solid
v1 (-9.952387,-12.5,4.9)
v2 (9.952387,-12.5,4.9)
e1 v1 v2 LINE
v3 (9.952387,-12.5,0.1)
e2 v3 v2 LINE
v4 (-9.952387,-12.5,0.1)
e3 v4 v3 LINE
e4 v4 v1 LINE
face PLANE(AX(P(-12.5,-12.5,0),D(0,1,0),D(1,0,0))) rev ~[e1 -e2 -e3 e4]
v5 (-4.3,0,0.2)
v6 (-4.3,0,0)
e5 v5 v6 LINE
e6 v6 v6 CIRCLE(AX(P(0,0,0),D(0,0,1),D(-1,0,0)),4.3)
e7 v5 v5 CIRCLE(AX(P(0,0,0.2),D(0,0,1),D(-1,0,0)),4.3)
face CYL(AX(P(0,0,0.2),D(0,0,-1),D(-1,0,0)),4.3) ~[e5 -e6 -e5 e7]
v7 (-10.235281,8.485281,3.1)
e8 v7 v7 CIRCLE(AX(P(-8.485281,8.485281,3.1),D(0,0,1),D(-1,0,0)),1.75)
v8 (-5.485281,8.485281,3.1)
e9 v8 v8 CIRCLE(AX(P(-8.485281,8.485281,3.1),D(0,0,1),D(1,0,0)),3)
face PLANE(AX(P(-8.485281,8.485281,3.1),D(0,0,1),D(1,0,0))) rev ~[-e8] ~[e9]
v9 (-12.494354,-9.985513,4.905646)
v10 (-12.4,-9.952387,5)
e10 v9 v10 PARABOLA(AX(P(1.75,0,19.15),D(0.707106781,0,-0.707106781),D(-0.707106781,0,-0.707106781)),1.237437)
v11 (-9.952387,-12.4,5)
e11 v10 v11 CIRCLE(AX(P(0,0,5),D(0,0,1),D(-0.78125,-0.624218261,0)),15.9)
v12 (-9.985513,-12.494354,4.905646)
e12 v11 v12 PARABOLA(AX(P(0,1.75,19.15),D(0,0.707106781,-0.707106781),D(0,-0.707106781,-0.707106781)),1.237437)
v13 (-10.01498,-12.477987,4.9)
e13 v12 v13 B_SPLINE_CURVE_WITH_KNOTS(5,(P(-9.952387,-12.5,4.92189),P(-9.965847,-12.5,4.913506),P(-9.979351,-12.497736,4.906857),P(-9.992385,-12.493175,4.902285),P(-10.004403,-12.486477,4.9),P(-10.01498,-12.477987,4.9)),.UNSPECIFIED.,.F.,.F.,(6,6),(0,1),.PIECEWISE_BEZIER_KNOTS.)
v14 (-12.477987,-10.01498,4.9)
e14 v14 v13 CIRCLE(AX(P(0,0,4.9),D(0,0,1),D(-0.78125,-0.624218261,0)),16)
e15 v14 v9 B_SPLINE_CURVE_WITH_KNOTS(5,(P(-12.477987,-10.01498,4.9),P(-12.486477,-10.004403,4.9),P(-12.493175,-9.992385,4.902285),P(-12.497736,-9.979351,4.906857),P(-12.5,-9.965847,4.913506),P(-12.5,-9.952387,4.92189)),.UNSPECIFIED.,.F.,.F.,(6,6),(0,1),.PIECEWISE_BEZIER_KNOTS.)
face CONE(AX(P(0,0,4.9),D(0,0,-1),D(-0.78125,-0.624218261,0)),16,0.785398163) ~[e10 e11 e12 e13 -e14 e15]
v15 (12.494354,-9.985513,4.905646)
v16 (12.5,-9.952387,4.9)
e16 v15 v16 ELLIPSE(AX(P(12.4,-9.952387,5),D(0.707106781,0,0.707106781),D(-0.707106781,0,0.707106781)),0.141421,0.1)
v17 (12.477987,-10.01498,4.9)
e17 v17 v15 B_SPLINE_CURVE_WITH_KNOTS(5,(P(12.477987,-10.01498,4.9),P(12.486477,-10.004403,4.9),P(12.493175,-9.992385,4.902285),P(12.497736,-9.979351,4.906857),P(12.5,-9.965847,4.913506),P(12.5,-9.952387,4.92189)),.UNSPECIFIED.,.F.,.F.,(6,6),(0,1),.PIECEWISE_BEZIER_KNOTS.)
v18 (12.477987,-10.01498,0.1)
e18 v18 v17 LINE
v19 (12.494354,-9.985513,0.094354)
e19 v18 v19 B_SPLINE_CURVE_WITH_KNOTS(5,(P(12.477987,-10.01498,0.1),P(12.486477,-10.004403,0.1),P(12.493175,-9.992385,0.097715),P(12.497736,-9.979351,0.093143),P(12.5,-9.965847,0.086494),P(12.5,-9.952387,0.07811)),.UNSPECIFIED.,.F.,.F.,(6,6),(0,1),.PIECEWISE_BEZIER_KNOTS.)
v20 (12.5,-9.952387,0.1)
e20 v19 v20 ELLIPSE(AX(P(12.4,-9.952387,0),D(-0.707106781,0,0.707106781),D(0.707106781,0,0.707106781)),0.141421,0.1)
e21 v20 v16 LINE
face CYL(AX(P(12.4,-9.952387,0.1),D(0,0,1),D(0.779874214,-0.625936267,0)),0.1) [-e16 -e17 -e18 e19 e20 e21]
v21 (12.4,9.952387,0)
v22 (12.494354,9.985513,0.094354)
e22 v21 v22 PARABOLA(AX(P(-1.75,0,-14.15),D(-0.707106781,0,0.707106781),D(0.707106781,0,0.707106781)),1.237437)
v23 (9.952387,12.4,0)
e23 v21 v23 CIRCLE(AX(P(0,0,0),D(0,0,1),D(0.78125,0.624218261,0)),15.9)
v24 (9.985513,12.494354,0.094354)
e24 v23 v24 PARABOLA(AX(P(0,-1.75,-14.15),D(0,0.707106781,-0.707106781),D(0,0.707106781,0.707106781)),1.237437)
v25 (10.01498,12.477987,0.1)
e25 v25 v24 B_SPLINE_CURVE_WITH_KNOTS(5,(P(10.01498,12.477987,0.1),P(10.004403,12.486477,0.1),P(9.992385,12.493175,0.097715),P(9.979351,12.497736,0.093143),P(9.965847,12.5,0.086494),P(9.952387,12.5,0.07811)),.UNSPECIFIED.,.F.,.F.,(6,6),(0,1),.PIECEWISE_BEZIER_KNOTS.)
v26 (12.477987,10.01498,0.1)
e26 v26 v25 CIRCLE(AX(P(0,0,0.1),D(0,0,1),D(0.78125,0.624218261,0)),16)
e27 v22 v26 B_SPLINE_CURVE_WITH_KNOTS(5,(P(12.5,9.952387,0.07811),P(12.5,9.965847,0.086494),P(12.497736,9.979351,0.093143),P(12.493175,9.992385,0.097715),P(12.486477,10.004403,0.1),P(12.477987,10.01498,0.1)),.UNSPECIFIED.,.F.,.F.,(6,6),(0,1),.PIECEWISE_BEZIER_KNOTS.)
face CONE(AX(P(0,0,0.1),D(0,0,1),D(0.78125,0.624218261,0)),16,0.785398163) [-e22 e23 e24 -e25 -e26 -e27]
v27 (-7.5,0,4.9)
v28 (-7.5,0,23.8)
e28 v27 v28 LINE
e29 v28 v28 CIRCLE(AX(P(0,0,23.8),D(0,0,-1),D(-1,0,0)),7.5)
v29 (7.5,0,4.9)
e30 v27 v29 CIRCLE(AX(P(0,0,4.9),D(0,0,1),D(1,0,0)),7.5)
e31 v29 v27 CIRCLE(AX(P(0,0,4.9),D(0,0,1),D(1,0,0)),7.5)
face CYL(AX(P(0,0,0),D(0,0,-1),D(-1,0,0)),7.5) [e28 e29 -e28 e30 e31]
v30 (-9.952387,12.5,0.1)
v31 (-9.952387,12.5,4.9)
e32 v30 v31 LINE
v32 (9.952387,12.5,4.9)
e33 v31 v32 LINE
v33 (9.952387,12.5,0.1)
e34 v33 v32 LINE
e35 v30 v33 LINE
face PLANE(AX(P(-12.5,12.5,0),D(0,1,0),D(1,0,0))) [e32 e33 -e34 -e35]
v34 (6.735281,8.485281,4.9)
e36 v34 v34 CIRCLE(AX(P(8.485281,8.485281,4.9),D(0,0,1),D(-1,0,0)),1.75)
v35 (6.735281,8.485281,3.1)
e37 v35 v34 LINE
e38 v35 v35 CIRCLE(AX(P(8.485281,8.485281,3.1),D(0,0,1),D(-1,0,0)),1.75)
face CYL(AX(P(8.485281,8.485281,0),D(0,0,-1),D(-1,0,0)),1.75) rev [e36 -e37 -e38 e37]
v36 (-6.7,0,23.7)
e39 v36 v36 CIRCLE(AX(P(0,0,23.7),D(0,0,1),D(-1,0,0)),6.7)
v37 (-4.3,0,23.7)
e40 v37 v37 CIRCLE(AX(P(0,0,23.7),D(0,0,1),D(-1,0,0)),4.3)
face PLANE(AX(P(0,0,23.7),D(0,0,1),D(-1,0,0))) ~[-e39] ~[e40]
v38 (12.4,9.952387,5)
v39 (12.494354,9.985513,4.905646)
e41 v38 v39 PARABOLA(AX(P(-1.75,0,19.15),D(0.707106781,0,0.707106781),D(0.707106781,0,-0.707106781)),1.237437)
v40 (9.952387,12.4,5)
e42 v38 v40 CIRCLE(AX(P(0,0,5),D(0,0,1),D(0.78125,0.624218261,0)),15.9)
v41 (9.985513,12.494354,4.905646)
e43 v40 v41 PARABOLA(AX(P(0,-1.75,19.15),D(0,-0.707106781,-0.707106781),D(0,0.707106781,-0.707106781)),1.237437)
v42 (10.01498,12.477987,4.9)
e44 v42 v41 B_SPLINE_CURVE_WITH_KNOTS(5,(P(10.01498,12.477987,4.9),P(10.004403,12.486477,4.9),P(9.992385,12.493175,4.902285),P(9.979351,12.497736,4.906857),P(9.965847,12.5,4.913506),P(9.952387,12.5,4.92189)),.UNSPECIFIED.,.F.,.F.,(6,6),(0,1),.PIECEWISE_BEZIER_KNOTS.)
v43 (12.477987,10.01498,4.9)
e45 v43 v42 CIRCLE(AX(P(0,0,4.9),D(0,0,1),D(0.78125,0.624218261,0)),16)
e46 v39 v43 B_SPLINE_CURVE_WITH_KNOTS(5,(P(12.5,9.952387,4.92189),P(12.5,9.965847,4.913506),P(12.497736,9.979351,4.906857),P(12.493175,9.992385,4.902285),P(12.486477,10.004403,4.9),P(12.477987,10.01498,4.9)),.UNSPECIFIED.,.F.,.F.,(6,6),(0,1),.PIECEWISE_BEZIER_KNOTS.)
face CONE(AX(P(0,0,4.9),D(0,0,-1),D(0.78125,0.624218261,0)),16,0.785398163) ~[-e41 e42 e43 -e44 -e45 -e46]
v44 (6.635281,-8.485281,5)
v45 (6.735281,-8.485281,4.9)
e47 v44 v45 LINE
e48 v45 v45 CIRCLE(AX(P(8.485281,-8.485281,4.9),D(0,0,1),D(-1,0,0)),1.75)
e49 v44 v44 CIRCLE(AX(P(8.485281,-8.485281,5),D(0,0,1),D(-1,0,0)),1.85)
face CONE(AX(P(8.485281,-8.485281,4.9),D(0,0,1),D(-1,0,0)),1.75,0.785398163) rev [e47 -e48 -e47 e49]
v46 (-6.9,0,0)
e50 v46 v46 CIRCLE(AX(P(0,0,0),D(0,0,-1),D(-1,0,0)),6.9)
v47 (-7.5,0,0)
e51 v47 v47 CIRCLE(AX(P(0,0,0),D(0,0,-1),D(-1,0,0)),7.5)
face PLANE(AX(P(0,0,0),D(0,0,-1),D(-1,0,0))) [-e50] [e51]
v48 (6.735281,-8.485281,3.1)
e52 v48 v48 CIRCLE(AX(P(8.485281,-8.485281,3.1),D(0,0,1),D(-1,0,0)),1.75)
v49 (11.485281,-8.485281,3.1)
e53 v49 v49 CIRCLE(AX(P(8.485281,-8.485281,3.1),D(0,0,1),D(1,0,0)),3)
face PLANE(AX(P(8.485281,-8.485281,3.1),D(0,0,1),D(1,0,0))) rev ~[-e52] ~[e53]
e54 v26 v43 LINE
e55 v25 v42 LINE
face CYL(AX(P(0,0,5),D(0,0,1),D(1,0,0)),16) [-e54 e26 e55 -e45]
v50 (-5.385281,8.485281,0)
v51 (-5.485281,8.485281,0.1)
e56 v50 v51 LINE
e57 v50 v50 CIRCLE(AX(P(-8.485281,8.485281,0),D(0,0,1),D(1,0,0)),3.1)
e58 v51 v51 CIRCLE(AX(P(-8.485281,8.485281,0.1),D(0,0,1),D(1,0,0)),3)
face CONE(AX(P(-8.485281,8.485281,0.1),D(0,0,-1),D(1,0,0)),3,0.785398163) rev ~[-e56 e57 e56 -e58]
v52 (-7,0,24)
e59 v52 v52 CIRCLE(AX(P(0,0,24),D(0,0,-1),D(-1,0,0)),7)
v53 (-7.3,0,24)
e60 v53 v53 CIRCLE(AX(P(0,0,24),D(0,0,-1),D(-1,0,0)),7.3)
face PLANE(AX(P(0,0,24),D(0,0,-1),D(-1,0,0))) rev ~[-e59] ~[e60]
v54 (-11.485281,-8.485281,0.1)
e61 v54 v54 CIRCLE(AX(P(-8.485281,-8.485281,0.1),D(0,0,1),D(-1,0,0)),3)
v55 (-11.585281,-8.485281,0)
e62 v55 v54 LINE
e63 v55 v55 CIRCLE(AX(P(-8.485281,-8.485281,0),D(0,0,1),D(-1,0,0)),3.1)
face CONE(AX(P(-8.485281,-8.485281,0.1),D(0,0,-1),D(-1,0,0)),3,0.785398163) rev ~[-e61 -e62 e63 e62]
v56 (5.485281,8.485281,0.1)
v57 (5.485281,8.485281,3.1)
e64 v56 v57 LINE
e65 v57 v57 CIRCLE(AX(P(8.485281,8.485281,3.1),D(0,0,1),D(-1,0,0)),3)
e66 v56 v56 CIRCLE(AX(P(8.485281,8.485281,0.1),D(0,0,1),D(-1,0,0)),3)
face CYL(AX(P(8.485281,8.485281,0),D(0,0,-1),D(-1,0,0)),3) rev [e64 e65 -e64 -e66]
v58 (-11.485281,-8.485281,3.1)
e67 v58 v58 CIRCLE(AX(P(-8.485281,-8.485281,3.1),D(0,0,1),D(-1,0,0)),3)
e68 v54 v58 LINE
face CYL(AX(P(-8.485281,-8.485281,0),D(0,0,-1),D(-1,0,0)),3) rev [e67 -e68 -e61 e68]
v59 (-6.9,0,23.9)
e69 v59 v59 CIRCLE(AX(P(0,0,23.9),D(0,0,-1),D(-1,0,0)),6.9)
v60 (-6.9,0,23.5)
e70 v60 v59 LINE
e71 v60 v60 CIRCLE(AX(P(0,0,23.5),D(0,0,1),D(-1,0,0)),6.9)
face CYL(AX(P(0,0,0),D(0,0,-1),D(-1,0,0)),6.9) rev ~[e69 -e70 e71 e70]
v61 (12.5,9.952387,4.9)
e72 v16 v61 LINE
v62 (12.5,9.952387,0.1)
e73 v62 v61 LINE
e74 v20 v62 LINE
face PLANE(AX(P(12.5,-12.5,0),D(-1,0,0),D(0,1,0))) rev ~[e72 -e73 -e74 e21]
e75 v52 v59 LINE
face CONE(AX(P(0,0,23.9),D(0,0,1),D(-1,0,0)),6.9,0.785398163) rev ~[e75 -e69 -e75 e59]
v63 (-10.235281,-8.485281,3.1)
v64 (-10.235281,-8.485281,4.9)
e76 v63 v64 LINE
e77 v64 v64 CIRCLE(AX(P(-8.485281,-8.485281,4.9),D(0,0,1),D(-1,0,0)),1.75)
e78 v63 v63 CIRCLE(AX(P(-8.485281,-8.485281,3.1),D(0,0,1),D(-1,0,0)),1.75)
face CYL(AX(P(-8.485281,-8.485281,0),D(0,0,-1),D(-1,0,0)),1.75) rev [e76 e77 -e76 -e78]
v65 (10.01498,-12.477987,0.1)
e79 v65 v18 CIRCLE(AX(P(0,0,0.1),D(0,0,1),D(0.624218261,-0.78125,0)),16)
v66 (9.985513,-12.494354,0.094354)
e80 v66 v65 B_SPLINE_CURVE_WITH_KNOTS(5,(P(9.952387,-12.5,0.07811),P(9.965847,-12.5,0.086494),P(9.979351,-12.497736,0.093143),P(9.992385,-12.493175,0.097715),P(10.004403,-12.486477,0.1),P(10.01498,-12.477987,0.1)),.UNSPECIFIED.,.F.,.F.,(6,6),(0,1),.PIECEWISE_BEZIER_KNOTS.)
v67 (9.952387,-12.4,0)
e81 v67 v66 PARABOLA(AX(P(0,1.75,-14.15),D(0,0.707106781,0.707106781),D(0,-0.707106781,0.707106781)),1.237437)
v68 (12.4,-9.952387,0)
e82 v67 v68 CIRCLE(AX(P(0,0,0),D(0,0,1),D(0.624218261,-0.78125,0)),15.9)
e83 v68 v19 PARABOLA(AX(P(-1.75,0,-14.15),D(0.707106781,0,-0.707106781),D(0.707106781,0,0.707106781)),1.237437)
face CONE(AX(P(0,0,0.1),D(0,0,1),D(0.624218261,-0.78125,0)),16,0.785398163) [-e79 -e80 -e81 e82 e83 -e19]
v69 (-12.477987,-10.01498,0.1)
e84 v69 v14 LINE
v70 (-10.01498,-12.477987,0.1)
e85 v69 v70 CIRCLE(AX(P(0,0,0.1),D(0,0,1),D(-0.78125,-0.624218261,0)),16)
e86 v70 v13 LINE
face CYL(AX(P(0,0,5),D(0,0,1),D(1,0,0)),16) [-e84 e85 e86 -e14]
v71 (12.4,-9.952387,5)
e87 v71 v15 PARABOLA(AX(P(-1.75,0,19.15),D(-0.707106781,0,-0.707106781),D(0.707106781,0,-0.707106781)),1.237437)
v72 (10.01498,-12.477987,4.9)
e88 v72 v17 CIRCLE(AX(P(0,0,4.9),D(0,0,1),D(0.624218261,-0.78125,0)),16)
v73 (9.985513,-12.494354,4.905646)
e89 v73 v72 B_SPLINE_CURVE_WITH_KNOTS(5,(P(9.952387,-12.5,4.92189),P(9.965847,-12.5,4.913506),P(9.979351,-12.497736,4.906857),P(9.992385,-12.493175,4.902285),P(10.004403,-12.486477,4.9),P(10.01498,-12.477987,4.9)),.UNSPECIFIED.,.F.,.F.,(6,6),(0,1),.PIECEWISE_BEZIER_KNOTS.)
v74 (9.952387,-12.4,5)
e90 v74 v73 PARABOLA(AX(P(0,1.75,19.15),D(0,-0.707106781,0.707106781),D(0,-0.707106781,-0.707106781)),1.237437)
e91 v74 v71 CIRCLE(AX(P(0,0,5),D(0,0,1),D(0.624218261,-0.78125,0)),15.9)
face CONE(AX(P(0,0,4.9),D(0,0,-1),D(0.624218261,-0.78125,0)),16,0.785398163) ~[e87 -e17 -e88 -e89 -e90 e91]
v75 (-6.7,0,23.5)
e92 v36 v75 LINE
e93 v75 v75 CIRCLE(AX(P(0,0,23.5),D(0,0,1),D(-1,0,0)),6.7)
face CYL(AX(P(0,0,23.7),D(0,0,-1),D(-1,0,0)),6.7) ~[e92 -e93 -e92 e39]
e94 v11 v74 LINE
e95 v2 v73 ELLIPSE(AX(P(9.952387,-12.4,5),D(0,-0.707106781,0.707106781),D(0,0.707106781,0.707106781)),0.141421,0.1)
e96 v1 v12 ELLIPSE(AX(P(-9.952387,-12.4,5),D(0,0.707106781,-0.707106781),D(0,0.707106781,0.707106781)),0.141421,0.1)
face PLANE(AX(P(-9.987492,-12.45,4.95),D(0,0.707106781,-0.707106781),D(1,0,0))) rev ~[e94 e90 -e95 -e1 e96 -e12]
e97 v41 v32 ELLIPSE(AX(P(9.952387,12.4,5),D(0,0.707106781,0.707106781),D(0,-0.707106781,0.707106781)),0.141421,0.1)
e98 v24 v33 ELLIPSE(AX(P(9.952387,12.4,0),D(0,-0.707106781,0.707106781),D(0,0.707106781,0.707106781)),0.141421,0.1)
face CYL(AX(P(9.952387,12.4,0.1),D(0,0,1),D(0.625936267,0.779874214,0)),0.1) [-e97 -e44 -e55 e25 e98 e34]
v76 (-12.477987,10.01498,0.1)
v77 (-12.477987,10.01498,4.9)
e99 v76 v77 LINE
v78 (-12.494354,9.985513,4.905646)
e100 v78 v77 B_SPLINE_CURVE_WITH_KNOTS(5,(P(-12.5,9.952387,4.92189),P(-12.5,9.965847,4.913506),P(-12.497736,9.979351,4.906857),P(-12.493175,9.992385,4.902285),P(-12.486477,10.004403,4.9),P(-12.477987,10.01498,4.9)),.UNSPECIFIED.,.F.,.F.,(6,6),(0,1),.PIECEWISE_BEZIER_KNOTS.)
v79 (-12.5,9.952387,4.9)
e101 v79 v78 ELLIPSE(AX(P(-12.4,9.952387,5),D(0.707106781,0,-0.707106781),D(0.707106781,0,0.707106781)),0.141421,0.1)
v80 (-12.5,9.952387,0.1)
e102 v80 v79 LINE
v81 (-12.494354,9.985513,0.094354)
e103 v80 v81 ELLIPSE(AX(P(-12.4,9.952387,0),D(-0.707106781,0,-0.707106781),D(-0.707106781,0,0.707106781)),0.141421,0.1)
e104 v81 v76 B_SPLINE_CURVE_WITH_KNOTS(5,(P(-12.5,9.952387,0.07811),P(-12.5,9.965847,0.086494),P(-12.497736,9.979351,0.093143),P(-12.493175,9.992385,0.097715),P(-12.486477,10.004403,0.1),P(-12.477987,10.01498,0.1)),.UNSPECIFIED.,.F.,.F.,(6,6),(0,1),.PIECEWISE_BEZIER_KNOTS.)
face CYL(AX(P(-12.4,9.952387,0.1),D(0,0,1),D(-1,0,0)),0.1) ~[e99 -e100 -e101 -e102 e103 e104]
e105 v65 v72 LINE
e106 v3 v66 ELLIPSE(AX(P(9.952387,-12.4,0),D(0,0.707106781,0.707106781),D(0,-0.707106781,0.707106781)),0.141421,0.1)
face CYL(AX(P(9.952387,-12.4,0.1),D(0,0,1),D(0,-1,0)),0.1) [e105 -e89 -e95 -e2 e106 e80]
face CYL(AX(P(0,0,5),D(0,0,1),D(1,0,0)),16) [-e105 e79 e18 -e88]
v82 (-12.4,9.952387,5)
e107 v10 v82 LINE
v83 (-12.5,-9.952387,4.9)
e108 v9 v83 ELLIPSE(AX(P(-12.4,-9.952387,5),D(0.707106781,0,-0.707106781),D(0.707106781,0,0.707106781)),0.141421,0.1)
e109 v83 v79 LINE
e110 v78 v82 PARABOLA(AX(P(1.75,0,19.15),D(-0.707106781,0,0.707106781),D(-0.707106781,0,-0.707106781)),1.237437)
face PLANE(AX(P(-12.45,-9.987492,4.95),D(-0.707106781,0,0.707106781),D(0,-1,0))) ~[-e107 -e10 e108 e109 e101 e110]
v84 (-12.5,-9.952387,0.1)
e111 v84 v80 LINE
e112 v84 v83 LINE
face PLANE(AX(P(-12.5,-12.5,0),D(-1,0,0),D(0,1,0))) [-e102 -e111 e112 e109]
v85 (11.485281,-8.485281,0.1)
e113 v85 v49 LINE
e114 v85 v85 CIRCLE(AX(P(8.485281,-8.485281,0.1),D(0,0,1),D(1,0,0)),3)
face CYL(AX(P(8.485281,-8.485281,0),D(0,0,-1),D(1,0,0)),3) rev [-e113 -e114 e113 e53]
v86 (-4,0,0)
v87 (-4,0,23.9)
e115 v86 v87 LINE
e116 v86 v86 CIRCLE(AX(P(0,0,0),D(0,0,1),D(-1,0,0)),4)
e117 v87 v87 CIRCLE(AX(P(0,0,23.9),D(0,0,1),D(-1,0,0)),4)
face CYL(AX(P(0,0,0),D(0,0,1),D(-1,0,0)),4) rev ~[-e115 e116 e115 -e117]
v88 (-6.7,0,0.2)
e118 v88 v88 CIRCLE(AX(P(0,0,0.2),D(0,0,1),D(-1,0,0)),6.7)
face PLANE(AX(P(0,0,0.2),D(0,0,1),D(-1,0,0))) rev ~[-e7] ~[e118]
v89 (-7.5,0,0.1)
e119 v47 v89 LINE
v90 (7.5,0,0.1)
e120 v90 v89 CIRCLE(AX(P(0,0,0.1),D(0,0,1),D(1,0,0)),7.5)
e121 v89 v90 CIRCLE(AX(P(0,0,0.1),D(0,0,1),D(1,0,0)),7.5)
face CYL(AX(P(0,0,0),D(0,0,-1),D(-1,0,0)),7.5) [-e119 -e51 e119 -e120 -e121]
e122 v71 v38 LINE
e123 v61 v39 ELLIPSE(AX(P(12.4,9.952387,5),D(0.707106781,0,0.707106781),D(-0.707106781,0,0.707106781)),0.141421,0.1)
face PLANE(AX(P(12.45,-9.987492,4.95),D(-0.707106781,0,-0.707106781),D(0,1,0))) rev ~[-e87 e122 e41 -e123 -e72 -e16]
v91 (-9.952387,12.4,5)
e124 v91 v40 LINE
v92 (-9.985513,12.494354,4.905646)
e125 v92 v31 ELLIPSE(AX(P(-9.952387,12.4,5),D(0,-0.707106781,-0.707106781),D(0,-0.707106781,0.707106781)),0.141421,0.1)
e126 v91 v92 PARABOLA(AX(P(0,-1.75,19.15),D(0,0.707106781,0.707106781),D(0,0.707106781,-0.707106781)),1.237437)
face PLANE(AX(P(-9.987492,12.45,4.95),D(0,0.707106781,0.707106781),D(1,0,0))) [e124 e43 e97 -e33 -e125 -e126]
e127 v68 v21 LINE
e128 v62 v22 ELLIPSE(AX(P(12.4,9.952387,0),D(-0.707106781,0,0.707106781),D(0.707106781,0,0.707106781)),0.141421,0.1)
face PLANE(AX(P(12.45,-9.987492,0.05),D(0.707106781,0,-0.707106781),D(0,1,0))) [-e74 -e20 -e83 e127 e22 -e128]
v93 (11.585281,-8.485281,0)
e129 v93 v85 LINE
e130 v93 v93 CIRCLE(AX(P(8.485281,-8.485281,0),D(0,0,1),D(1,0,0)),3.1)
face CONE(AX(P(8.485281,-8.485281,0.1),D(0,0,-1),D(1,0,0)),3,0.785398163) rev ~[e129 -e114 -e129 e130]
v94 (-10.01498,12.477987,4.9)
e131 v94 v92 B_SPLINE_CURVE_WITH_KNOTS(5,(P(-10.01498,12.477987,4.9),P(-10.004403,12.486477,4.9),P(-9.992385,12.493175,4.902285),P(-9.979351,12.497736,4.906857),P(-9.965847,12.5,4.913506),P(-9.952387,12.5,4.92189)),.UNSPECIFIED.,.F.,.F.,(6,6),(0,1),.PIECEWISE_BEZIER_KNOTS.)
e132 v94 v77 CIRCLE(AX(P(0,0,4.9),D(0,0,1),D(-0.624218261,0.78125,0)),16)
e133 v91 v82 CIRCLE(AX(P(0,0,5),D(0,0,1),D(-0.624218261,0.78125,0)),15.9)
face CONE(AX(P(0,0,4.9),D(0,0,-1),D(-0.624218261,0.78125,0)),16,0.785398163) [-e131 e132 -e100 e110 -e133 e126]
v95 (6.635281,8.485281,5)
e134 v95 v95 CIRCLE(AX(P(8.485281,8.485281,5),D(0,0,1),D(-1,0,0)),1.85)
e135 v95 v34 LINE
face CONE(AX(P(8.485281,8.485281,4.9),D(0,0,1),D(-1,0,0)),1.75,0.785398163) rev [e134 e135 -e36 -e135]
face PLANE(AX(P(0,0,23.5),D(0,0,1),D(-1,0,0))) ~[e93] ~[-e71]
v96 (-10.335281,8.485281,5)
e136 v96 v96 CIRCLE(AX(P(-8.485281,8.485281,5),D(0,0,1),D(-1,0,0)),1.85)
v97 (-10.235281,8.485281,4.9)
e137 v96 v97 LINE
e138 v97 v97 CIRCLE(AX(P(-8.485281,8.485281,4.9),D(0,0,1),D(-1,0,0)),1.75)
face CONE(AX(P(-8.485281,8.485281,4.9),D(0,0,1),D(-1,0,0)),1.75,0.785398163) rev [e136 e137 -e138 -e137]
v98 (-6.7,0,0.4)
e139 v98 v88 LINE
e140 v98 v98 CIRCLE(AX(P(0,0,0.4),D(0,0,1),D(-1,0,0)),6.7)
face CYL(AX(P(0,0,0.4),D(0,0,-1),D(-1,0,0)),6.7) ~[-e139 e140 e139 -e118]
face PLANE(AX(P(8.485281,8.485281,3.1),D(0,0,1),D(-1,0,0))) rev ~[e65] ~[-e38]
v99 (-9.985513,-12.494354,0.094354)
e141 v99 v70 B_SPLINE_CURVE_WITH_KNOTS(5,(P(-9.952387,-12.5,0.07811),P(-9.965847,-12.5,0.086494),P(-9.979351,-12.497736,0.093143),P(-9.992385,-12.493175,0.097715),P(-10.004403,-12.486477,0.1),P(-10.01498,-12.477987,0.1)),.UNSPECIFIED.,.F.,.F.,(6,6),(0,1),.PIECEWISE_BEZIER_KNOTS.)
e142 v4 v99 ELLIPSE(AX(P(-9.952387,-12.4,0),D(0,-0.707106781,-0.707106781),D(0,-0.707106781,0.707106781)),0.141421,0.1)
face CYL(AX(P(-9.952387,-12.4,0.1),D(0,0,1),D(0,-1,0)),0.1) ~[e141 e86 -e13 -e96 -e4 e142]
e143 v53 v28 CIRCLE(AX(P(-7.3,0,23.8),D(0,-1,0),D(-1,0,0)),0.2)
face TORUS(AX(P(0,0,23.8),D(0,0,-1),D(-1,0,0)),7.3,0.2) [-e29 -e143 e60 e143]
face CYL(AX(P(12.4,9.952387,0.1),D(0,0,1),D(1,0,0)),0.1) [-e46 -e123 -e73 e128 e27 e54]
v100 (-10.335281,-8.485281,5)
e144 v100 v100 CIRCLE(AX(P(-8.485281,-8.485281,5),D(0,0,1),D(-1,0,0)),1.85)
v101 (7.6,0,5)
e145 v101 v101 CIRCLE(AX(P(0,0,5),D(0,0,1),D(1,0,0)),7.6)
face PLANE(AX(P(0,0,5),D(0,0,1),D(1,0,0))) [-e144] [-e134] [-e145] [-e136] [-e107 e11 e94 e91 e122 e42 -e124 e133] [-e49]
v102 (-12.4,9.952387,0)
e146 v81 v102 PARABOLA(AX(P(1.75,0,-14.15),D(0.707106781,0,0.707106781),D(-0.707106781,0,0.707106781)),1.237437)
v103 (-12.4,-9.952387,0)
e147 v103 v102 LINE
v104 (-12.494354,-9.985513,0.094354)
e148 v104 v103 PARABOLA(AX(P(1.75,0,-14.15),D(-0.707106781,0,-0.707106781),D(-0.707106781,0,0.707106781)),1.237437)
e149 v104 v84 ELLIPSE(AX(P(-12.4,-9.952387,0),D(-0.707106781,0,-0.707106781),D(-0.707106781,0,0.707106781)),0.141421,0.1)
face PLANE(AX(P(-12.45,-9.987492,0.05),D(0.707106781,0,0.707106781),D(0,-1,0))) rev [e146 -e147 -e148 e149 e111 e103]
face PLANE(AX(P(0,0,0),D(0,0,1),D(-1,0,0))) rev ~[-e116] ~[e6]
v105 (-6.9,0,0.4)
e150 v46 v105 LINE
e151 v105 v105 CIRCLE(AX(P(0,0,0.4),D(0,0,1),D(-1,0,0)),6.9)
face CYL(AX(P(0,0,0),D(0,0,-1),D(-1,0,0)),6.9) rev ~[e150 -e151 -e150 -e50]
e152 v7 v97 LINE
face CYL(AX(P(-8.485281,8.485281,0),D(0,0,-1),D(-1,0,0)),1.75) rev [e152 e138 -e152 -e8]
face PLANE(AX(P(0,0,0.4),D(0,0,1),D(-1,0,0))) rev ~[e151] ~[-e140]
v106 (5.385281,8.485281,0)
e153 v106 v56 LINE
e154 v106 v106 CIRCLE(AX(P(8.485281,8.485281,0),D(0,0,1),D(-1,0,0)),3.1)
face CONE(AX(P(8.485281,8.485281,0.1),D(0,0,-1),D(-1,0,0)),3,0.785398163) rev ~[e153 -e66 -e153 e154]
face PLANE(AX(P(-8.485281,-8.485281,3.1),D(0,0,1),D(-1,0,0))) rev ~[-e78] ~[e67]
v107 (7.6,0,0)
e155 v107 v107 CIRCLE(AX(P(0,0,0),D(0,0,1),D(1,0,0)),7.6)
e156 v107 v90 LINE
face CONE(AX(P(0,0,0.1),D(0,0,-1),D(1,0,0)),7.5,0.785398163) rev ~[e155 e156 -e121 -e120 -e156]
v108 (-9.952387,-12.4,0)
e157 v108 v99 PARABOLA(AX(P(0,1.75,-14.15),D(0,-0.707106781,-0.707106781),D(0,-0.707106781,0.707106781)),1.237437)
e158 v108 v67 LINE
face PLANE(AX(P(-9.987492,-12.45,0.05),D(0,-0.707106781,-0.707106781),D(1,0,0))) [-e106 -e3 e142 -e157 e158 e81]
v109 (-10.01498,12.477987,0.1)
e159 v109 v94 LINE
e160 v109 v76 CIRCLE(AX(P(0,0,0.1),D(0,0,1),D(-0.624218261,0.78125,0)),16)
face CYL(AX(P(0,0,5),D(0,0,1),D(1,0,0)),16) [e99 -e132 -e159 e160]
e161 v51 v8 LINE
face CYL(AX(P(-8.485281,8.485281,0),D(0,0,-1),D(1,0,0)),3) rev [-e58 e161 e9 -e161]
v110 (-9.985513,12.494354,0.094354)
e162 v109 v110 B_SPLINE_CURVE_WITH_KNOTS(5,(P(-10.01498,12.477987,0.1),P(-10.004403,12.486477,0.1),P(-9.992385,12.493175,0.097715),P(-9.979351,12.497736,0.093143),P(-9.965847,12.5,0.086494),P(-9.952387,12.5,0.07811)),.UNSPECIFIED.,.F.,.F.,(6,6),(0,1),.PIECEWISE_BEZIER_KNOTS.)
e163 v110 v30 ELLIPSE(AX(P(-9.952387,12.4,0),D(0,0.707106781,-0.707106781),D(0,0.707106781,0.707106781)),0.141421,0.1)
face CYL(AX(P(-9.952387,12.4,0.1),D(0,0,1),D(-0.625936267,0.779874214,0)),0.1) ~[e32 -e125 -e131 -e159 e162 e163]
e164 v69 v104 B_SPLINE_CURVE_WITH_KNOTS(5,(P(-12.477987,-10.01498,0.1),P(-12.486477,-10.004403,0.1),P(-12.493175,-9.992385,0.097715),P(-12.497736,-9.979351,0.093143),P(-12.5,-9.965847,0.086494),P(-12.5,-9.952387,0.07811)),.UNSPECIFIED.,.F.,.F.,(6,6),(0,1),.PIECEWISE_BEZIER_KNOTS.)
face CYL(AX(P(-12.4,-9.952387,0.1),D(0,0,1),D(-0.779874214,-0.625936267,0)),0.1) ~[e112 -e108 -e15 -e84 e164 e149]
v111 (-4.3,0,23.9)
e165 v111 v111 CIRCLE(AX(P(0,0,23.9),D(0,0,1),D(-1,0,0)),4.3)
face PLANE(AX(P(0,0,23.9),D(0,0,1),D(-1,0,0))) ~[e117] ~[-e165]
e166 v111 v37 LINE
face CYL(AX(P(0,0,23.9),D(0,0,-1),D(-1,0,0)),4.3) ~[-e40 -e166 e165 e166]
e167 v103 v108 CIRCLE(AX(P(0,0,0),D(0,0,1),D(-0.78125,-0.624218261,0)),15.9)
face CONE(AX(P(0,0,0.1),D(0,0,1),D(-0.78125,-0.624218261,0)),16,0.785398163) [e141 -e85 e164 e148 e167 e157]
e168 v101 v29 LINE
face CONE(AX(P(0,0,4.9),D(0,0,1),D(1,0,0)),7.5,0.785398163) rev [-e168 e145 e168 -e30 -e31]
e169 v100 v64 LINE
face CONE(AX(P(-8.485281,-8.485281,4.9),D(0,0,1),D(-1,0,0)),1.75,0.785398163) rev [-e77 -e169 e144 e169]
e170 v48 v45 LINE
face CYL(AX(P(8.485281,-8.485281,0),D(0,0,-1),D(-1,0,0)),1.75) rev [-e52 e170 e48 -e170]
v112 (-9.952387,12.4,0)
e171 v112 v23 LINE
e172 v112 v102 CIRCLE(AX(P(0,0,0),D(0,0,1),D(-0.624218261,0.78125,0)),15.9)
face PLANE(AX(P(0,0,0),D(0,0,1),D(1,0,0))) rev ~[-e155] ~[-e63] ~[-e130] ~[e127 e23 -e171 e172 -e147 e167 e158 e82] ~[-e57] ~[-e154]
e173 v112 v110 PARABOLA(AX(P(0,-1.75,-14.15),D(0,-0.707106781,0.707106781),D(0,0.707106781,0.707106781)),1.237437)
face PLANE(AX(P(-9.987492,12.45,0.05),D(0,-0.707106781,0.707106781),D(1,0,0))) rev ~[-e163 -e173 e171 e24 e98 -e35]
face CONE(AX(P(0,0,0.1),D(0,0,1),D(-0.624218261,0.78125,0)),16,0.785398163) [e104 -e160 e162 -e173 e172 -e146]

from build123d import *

# Parameters (mm, degrees)
SKETCH_1_W          = 25
SKETCH_1_H          = 25
SKETCH_1_R          = 7.5
EXTRUDE_1_DEPTH     = 5
SKETCH_3_OUTSIDE_W  = 34.142
SKETCH_3_OUTSIDE_H  = 34.142
SKETCH_3_OUTSIDE_R  = 16
CUT_EXTRUDE_2_DEPTH = 5
SKETCH_5_R          = 1.75
CUT_EXTRUDE_3_DEPTH = 5
SKETCH_5_3_R        = 3
SKETCH_5_3_R_2      = 1.75
CUT_EXTRUDE_4_DEPTH = 3.1
CHAMFER_1_SIZE      = 0.1
SKETCH_7_R          = 7.5
SKETCH_7_R_2        = 6.9
EXTRUDE_2_DEPTH     = 24
FILLET_1_R          = 0.2
CHAMFER_2_SIZE      = 0.1
FILLET_2_R          = 0.1


with BuildPart() as part:
    # Sketch 1 → Extrude 1 (new body)
    with BuildSketch(Plane.XY):
        Rectangle(SKETCH_1_W, SKETCH_1_H)
        Circle(SKETCH_1_R, mode=Mode.SUBTRACT)
    extrude(amount=EXTRUDE_1_DEPTH)

    # Sketch 3 outside → Cut-Extrude 2 (cut)
    with BuildSketch(Plane.XY.offset(5)):
        Rectangle(SKETCH_3_OUTSIDE_W, SKETCH_3_OUTSIDE_H)
        Circle(SKETCH_3_OUTSIDE_R, mode=Mode.SUBTRACT)
    extrude(amount=-CUT_EXTRUDE_2_DEPTH, mode=Mode.SUBTRACT)

    # Sketch 5 → Cut-Extrude 3 (cut)
    with BuildSketch(Plane.XY):
        with Locations(Location((-8.485281374, 8.485281374, 0), (0, 0, 180))):  # turned: the seam where the file's is
            Circle(SKETCH_5_R)
        with Locations(Location((-8.485281374, -8.485281374, 0), (0, 0, 180))):  # turned: the seam where the file's is
            Circle(SKETCH_5_R)
        with Locations(Location((8.485281374, -8.485281374, 0), (0, 0, 180))):  # turned: the seam where the file's is
            Circle(SKETCH_5_R)
        with Locations(Location((8.485281374, 8.485281374, 0), (0, 0, 180))):  # turned: the seam where the file's is
            Circle(SKETCH_5_R)
    extrude(amount=CUT_EXTRUDE_3_DEPTH, mode=Mode.SUBTRACT)

    # Sketch 5_3 → Cut-Extrude 4 (cut)
    with BuildSketch(Plane.XY):
        with Locations((-8.485281374, 8.485281374)):
            Circle(SKETCH_5_3_R)
        with Locations(Location((-8.485281374, 8.485281374, 0), (0, 0, 180))):  # turned: the seam where the file's is
            Circle(SKETCH_5_3_R_2, mode=Mode.SUBTRACT)
        with Locations(Location((8.485281374, 8.485281374, 0), (0, 0, 180))):  # turned: the seam where the file's is
            Circle(SKETCH_5_3_R)
        with Locations(Location((8.485281374, 8.485281374, 0), (0, 0, 180))):  # turned: the seam where the file's is
            Circle(SKETCH_5_3_R_2, mode=Mode.SUBTRACT)
        with Locations((8.485281374, -8.485281374)):
            Circle(SKETCH_5_3_R)
        with Locations(Location((8.485281374, -8.485281374, 0), (0, 0, 180))):  # turned: the seam where the file's is
            Circle(SKETCH_5_3_R_2, mode=Mode.SUBTRACT)
        with Locations(Location((-8.485281374, -8.485281374, 0), (0, 0, 180))):  # turned: the seam where the file's is
            Circle(SKETCH_5_3_R)
        with Locations(Location((-8.485281374, -8.485281374, 0), (0, 0, 180))):  # turned: the seam where the file's is
            Circle(SKETCH_5_3_R_2, mode=Mode.SUBTRACT)
    extrude(amount=CUT_EXTRUDE_4_DEPTH, mode=Mode.SUBTRACT)

    # Chamfer 1
    chamfer_1_edges = [part.edges().sort_by_distance(p)[0] for p in [
        (11.485281374, 8.485281374, 0),
        (-11.485281374, 8.485281374, 0),
        (-7.5, 0, 0),
        (-7.5, 0, 5),
        (0, -12.5, 0),
        (0, -12.5, 5),
        (-12.5, 0, 0),
        (-12.5, 0, 5),
        (0, 12.5, 0),
        (0, 12.5, 5),
        (12.5, 0, 0),
        (12.5, 0, 5),
        (11.313708499, -11.313708499, 5),
        (11.313708499, 11.313708499, 5),
        (-11.313708499, 11.313708499, 5),
        (-11.313708499, -11.313708499, 5),
        (11.313708499, 11.313708499, 0),
        (-11.313708499, 11.313708499, 0),
        (11.313708499, -11.313708499, 0),
        (-11.313708499, -11.313708499, 0),
        (10.235281374, 8.485281374, 5),
        (10.235281374, -8.485281374, 5),
        (-6.735281374, -8.485281374, 5),
        (-6.735281374, 8.485281374, 5),
        (-5.485281374, -8.485281374, 0),
        (5.485281374, -8.485281374, 0),
    ]]
    chamfer(chamfer_1_edges, length=CHAMFER_1_SIZE)

    # Sketch 7 → Extrude 2 (add)
    with BuildSketch(Plane(origin=(0, 0, 0), x_dir=(-1, 0, 0), z_dir=(0, 0, -1))):
        Circle(SKETCH_7_R)
        Circle(SKETCH_7_R_2, mode=Mode.SUBTRACT)
    extrude(amount=-EXTRUDE_2_DEPTH)

    # Fillet 1
    fillet_1_edges = [part.edges().sort_by_distance(p)[0] for p in [
        (7.5, 0, 24),
    ]]
    fillet(fillet_1_edges, radius=FILLET_1_R)

    # Chamfer 2
    chamfer_2_edges = [part.edges().sort_by_distance(p)[0] for p in [
        (6.9, 0, 24),
    ]]
    chamfer(chamfer_2_edges, length=CHAMFER_2_SIZE)

    # Sketch 8 → Revolve 1 (revolve)
    with BuildSketch(Plane(origin=(0, 0, 0), x_dir=(0, 0, -1), z_dir=(1, 0, 0)), mode=Mode.PRIVATE) as revolve_1_sk:
        Polygon((-23.5, 6.9), (-0.4, 6.9), (-0.4, 6.7), (-0.2, 6.7), (-0.2, 4.3), (0, 4.3), (0, 4), (-23.9, 4), (-23.9, 4.3), (-23.7, 4.3), (-23.7, 6.7), (-23.5, 6.7), align=None)
    revolve(revolve_1_sk.sketch.rotate(Axis((0, 0, 0), (0, 0, 1)), 90), axis=Axis((0, 0, 0), (0, 0, 1)))  # turned: the seam where the file's is

    # Fillet 2
    fillet_2_edges = [part.edges().sort_by_distance(p)[0] for p in [
        (-9.987492178, 12.5, 2.5),
        (-12.5, 9.987492178, 2.5),
        (-12.5, -9.987492178, 2.5),
        (-9.987492178, -12.5, 2.5),
        (9.987492178, -12.5, 2.5),
        (12.5, -9.987492178, 2.5),
        (12.5, 9.987492178, 2.5),
        (9.987492178, 12.5, 2.5),
    ]]
    fillet(fillet_2_edges, radius=FILLET_2_R)


solid = part.part
